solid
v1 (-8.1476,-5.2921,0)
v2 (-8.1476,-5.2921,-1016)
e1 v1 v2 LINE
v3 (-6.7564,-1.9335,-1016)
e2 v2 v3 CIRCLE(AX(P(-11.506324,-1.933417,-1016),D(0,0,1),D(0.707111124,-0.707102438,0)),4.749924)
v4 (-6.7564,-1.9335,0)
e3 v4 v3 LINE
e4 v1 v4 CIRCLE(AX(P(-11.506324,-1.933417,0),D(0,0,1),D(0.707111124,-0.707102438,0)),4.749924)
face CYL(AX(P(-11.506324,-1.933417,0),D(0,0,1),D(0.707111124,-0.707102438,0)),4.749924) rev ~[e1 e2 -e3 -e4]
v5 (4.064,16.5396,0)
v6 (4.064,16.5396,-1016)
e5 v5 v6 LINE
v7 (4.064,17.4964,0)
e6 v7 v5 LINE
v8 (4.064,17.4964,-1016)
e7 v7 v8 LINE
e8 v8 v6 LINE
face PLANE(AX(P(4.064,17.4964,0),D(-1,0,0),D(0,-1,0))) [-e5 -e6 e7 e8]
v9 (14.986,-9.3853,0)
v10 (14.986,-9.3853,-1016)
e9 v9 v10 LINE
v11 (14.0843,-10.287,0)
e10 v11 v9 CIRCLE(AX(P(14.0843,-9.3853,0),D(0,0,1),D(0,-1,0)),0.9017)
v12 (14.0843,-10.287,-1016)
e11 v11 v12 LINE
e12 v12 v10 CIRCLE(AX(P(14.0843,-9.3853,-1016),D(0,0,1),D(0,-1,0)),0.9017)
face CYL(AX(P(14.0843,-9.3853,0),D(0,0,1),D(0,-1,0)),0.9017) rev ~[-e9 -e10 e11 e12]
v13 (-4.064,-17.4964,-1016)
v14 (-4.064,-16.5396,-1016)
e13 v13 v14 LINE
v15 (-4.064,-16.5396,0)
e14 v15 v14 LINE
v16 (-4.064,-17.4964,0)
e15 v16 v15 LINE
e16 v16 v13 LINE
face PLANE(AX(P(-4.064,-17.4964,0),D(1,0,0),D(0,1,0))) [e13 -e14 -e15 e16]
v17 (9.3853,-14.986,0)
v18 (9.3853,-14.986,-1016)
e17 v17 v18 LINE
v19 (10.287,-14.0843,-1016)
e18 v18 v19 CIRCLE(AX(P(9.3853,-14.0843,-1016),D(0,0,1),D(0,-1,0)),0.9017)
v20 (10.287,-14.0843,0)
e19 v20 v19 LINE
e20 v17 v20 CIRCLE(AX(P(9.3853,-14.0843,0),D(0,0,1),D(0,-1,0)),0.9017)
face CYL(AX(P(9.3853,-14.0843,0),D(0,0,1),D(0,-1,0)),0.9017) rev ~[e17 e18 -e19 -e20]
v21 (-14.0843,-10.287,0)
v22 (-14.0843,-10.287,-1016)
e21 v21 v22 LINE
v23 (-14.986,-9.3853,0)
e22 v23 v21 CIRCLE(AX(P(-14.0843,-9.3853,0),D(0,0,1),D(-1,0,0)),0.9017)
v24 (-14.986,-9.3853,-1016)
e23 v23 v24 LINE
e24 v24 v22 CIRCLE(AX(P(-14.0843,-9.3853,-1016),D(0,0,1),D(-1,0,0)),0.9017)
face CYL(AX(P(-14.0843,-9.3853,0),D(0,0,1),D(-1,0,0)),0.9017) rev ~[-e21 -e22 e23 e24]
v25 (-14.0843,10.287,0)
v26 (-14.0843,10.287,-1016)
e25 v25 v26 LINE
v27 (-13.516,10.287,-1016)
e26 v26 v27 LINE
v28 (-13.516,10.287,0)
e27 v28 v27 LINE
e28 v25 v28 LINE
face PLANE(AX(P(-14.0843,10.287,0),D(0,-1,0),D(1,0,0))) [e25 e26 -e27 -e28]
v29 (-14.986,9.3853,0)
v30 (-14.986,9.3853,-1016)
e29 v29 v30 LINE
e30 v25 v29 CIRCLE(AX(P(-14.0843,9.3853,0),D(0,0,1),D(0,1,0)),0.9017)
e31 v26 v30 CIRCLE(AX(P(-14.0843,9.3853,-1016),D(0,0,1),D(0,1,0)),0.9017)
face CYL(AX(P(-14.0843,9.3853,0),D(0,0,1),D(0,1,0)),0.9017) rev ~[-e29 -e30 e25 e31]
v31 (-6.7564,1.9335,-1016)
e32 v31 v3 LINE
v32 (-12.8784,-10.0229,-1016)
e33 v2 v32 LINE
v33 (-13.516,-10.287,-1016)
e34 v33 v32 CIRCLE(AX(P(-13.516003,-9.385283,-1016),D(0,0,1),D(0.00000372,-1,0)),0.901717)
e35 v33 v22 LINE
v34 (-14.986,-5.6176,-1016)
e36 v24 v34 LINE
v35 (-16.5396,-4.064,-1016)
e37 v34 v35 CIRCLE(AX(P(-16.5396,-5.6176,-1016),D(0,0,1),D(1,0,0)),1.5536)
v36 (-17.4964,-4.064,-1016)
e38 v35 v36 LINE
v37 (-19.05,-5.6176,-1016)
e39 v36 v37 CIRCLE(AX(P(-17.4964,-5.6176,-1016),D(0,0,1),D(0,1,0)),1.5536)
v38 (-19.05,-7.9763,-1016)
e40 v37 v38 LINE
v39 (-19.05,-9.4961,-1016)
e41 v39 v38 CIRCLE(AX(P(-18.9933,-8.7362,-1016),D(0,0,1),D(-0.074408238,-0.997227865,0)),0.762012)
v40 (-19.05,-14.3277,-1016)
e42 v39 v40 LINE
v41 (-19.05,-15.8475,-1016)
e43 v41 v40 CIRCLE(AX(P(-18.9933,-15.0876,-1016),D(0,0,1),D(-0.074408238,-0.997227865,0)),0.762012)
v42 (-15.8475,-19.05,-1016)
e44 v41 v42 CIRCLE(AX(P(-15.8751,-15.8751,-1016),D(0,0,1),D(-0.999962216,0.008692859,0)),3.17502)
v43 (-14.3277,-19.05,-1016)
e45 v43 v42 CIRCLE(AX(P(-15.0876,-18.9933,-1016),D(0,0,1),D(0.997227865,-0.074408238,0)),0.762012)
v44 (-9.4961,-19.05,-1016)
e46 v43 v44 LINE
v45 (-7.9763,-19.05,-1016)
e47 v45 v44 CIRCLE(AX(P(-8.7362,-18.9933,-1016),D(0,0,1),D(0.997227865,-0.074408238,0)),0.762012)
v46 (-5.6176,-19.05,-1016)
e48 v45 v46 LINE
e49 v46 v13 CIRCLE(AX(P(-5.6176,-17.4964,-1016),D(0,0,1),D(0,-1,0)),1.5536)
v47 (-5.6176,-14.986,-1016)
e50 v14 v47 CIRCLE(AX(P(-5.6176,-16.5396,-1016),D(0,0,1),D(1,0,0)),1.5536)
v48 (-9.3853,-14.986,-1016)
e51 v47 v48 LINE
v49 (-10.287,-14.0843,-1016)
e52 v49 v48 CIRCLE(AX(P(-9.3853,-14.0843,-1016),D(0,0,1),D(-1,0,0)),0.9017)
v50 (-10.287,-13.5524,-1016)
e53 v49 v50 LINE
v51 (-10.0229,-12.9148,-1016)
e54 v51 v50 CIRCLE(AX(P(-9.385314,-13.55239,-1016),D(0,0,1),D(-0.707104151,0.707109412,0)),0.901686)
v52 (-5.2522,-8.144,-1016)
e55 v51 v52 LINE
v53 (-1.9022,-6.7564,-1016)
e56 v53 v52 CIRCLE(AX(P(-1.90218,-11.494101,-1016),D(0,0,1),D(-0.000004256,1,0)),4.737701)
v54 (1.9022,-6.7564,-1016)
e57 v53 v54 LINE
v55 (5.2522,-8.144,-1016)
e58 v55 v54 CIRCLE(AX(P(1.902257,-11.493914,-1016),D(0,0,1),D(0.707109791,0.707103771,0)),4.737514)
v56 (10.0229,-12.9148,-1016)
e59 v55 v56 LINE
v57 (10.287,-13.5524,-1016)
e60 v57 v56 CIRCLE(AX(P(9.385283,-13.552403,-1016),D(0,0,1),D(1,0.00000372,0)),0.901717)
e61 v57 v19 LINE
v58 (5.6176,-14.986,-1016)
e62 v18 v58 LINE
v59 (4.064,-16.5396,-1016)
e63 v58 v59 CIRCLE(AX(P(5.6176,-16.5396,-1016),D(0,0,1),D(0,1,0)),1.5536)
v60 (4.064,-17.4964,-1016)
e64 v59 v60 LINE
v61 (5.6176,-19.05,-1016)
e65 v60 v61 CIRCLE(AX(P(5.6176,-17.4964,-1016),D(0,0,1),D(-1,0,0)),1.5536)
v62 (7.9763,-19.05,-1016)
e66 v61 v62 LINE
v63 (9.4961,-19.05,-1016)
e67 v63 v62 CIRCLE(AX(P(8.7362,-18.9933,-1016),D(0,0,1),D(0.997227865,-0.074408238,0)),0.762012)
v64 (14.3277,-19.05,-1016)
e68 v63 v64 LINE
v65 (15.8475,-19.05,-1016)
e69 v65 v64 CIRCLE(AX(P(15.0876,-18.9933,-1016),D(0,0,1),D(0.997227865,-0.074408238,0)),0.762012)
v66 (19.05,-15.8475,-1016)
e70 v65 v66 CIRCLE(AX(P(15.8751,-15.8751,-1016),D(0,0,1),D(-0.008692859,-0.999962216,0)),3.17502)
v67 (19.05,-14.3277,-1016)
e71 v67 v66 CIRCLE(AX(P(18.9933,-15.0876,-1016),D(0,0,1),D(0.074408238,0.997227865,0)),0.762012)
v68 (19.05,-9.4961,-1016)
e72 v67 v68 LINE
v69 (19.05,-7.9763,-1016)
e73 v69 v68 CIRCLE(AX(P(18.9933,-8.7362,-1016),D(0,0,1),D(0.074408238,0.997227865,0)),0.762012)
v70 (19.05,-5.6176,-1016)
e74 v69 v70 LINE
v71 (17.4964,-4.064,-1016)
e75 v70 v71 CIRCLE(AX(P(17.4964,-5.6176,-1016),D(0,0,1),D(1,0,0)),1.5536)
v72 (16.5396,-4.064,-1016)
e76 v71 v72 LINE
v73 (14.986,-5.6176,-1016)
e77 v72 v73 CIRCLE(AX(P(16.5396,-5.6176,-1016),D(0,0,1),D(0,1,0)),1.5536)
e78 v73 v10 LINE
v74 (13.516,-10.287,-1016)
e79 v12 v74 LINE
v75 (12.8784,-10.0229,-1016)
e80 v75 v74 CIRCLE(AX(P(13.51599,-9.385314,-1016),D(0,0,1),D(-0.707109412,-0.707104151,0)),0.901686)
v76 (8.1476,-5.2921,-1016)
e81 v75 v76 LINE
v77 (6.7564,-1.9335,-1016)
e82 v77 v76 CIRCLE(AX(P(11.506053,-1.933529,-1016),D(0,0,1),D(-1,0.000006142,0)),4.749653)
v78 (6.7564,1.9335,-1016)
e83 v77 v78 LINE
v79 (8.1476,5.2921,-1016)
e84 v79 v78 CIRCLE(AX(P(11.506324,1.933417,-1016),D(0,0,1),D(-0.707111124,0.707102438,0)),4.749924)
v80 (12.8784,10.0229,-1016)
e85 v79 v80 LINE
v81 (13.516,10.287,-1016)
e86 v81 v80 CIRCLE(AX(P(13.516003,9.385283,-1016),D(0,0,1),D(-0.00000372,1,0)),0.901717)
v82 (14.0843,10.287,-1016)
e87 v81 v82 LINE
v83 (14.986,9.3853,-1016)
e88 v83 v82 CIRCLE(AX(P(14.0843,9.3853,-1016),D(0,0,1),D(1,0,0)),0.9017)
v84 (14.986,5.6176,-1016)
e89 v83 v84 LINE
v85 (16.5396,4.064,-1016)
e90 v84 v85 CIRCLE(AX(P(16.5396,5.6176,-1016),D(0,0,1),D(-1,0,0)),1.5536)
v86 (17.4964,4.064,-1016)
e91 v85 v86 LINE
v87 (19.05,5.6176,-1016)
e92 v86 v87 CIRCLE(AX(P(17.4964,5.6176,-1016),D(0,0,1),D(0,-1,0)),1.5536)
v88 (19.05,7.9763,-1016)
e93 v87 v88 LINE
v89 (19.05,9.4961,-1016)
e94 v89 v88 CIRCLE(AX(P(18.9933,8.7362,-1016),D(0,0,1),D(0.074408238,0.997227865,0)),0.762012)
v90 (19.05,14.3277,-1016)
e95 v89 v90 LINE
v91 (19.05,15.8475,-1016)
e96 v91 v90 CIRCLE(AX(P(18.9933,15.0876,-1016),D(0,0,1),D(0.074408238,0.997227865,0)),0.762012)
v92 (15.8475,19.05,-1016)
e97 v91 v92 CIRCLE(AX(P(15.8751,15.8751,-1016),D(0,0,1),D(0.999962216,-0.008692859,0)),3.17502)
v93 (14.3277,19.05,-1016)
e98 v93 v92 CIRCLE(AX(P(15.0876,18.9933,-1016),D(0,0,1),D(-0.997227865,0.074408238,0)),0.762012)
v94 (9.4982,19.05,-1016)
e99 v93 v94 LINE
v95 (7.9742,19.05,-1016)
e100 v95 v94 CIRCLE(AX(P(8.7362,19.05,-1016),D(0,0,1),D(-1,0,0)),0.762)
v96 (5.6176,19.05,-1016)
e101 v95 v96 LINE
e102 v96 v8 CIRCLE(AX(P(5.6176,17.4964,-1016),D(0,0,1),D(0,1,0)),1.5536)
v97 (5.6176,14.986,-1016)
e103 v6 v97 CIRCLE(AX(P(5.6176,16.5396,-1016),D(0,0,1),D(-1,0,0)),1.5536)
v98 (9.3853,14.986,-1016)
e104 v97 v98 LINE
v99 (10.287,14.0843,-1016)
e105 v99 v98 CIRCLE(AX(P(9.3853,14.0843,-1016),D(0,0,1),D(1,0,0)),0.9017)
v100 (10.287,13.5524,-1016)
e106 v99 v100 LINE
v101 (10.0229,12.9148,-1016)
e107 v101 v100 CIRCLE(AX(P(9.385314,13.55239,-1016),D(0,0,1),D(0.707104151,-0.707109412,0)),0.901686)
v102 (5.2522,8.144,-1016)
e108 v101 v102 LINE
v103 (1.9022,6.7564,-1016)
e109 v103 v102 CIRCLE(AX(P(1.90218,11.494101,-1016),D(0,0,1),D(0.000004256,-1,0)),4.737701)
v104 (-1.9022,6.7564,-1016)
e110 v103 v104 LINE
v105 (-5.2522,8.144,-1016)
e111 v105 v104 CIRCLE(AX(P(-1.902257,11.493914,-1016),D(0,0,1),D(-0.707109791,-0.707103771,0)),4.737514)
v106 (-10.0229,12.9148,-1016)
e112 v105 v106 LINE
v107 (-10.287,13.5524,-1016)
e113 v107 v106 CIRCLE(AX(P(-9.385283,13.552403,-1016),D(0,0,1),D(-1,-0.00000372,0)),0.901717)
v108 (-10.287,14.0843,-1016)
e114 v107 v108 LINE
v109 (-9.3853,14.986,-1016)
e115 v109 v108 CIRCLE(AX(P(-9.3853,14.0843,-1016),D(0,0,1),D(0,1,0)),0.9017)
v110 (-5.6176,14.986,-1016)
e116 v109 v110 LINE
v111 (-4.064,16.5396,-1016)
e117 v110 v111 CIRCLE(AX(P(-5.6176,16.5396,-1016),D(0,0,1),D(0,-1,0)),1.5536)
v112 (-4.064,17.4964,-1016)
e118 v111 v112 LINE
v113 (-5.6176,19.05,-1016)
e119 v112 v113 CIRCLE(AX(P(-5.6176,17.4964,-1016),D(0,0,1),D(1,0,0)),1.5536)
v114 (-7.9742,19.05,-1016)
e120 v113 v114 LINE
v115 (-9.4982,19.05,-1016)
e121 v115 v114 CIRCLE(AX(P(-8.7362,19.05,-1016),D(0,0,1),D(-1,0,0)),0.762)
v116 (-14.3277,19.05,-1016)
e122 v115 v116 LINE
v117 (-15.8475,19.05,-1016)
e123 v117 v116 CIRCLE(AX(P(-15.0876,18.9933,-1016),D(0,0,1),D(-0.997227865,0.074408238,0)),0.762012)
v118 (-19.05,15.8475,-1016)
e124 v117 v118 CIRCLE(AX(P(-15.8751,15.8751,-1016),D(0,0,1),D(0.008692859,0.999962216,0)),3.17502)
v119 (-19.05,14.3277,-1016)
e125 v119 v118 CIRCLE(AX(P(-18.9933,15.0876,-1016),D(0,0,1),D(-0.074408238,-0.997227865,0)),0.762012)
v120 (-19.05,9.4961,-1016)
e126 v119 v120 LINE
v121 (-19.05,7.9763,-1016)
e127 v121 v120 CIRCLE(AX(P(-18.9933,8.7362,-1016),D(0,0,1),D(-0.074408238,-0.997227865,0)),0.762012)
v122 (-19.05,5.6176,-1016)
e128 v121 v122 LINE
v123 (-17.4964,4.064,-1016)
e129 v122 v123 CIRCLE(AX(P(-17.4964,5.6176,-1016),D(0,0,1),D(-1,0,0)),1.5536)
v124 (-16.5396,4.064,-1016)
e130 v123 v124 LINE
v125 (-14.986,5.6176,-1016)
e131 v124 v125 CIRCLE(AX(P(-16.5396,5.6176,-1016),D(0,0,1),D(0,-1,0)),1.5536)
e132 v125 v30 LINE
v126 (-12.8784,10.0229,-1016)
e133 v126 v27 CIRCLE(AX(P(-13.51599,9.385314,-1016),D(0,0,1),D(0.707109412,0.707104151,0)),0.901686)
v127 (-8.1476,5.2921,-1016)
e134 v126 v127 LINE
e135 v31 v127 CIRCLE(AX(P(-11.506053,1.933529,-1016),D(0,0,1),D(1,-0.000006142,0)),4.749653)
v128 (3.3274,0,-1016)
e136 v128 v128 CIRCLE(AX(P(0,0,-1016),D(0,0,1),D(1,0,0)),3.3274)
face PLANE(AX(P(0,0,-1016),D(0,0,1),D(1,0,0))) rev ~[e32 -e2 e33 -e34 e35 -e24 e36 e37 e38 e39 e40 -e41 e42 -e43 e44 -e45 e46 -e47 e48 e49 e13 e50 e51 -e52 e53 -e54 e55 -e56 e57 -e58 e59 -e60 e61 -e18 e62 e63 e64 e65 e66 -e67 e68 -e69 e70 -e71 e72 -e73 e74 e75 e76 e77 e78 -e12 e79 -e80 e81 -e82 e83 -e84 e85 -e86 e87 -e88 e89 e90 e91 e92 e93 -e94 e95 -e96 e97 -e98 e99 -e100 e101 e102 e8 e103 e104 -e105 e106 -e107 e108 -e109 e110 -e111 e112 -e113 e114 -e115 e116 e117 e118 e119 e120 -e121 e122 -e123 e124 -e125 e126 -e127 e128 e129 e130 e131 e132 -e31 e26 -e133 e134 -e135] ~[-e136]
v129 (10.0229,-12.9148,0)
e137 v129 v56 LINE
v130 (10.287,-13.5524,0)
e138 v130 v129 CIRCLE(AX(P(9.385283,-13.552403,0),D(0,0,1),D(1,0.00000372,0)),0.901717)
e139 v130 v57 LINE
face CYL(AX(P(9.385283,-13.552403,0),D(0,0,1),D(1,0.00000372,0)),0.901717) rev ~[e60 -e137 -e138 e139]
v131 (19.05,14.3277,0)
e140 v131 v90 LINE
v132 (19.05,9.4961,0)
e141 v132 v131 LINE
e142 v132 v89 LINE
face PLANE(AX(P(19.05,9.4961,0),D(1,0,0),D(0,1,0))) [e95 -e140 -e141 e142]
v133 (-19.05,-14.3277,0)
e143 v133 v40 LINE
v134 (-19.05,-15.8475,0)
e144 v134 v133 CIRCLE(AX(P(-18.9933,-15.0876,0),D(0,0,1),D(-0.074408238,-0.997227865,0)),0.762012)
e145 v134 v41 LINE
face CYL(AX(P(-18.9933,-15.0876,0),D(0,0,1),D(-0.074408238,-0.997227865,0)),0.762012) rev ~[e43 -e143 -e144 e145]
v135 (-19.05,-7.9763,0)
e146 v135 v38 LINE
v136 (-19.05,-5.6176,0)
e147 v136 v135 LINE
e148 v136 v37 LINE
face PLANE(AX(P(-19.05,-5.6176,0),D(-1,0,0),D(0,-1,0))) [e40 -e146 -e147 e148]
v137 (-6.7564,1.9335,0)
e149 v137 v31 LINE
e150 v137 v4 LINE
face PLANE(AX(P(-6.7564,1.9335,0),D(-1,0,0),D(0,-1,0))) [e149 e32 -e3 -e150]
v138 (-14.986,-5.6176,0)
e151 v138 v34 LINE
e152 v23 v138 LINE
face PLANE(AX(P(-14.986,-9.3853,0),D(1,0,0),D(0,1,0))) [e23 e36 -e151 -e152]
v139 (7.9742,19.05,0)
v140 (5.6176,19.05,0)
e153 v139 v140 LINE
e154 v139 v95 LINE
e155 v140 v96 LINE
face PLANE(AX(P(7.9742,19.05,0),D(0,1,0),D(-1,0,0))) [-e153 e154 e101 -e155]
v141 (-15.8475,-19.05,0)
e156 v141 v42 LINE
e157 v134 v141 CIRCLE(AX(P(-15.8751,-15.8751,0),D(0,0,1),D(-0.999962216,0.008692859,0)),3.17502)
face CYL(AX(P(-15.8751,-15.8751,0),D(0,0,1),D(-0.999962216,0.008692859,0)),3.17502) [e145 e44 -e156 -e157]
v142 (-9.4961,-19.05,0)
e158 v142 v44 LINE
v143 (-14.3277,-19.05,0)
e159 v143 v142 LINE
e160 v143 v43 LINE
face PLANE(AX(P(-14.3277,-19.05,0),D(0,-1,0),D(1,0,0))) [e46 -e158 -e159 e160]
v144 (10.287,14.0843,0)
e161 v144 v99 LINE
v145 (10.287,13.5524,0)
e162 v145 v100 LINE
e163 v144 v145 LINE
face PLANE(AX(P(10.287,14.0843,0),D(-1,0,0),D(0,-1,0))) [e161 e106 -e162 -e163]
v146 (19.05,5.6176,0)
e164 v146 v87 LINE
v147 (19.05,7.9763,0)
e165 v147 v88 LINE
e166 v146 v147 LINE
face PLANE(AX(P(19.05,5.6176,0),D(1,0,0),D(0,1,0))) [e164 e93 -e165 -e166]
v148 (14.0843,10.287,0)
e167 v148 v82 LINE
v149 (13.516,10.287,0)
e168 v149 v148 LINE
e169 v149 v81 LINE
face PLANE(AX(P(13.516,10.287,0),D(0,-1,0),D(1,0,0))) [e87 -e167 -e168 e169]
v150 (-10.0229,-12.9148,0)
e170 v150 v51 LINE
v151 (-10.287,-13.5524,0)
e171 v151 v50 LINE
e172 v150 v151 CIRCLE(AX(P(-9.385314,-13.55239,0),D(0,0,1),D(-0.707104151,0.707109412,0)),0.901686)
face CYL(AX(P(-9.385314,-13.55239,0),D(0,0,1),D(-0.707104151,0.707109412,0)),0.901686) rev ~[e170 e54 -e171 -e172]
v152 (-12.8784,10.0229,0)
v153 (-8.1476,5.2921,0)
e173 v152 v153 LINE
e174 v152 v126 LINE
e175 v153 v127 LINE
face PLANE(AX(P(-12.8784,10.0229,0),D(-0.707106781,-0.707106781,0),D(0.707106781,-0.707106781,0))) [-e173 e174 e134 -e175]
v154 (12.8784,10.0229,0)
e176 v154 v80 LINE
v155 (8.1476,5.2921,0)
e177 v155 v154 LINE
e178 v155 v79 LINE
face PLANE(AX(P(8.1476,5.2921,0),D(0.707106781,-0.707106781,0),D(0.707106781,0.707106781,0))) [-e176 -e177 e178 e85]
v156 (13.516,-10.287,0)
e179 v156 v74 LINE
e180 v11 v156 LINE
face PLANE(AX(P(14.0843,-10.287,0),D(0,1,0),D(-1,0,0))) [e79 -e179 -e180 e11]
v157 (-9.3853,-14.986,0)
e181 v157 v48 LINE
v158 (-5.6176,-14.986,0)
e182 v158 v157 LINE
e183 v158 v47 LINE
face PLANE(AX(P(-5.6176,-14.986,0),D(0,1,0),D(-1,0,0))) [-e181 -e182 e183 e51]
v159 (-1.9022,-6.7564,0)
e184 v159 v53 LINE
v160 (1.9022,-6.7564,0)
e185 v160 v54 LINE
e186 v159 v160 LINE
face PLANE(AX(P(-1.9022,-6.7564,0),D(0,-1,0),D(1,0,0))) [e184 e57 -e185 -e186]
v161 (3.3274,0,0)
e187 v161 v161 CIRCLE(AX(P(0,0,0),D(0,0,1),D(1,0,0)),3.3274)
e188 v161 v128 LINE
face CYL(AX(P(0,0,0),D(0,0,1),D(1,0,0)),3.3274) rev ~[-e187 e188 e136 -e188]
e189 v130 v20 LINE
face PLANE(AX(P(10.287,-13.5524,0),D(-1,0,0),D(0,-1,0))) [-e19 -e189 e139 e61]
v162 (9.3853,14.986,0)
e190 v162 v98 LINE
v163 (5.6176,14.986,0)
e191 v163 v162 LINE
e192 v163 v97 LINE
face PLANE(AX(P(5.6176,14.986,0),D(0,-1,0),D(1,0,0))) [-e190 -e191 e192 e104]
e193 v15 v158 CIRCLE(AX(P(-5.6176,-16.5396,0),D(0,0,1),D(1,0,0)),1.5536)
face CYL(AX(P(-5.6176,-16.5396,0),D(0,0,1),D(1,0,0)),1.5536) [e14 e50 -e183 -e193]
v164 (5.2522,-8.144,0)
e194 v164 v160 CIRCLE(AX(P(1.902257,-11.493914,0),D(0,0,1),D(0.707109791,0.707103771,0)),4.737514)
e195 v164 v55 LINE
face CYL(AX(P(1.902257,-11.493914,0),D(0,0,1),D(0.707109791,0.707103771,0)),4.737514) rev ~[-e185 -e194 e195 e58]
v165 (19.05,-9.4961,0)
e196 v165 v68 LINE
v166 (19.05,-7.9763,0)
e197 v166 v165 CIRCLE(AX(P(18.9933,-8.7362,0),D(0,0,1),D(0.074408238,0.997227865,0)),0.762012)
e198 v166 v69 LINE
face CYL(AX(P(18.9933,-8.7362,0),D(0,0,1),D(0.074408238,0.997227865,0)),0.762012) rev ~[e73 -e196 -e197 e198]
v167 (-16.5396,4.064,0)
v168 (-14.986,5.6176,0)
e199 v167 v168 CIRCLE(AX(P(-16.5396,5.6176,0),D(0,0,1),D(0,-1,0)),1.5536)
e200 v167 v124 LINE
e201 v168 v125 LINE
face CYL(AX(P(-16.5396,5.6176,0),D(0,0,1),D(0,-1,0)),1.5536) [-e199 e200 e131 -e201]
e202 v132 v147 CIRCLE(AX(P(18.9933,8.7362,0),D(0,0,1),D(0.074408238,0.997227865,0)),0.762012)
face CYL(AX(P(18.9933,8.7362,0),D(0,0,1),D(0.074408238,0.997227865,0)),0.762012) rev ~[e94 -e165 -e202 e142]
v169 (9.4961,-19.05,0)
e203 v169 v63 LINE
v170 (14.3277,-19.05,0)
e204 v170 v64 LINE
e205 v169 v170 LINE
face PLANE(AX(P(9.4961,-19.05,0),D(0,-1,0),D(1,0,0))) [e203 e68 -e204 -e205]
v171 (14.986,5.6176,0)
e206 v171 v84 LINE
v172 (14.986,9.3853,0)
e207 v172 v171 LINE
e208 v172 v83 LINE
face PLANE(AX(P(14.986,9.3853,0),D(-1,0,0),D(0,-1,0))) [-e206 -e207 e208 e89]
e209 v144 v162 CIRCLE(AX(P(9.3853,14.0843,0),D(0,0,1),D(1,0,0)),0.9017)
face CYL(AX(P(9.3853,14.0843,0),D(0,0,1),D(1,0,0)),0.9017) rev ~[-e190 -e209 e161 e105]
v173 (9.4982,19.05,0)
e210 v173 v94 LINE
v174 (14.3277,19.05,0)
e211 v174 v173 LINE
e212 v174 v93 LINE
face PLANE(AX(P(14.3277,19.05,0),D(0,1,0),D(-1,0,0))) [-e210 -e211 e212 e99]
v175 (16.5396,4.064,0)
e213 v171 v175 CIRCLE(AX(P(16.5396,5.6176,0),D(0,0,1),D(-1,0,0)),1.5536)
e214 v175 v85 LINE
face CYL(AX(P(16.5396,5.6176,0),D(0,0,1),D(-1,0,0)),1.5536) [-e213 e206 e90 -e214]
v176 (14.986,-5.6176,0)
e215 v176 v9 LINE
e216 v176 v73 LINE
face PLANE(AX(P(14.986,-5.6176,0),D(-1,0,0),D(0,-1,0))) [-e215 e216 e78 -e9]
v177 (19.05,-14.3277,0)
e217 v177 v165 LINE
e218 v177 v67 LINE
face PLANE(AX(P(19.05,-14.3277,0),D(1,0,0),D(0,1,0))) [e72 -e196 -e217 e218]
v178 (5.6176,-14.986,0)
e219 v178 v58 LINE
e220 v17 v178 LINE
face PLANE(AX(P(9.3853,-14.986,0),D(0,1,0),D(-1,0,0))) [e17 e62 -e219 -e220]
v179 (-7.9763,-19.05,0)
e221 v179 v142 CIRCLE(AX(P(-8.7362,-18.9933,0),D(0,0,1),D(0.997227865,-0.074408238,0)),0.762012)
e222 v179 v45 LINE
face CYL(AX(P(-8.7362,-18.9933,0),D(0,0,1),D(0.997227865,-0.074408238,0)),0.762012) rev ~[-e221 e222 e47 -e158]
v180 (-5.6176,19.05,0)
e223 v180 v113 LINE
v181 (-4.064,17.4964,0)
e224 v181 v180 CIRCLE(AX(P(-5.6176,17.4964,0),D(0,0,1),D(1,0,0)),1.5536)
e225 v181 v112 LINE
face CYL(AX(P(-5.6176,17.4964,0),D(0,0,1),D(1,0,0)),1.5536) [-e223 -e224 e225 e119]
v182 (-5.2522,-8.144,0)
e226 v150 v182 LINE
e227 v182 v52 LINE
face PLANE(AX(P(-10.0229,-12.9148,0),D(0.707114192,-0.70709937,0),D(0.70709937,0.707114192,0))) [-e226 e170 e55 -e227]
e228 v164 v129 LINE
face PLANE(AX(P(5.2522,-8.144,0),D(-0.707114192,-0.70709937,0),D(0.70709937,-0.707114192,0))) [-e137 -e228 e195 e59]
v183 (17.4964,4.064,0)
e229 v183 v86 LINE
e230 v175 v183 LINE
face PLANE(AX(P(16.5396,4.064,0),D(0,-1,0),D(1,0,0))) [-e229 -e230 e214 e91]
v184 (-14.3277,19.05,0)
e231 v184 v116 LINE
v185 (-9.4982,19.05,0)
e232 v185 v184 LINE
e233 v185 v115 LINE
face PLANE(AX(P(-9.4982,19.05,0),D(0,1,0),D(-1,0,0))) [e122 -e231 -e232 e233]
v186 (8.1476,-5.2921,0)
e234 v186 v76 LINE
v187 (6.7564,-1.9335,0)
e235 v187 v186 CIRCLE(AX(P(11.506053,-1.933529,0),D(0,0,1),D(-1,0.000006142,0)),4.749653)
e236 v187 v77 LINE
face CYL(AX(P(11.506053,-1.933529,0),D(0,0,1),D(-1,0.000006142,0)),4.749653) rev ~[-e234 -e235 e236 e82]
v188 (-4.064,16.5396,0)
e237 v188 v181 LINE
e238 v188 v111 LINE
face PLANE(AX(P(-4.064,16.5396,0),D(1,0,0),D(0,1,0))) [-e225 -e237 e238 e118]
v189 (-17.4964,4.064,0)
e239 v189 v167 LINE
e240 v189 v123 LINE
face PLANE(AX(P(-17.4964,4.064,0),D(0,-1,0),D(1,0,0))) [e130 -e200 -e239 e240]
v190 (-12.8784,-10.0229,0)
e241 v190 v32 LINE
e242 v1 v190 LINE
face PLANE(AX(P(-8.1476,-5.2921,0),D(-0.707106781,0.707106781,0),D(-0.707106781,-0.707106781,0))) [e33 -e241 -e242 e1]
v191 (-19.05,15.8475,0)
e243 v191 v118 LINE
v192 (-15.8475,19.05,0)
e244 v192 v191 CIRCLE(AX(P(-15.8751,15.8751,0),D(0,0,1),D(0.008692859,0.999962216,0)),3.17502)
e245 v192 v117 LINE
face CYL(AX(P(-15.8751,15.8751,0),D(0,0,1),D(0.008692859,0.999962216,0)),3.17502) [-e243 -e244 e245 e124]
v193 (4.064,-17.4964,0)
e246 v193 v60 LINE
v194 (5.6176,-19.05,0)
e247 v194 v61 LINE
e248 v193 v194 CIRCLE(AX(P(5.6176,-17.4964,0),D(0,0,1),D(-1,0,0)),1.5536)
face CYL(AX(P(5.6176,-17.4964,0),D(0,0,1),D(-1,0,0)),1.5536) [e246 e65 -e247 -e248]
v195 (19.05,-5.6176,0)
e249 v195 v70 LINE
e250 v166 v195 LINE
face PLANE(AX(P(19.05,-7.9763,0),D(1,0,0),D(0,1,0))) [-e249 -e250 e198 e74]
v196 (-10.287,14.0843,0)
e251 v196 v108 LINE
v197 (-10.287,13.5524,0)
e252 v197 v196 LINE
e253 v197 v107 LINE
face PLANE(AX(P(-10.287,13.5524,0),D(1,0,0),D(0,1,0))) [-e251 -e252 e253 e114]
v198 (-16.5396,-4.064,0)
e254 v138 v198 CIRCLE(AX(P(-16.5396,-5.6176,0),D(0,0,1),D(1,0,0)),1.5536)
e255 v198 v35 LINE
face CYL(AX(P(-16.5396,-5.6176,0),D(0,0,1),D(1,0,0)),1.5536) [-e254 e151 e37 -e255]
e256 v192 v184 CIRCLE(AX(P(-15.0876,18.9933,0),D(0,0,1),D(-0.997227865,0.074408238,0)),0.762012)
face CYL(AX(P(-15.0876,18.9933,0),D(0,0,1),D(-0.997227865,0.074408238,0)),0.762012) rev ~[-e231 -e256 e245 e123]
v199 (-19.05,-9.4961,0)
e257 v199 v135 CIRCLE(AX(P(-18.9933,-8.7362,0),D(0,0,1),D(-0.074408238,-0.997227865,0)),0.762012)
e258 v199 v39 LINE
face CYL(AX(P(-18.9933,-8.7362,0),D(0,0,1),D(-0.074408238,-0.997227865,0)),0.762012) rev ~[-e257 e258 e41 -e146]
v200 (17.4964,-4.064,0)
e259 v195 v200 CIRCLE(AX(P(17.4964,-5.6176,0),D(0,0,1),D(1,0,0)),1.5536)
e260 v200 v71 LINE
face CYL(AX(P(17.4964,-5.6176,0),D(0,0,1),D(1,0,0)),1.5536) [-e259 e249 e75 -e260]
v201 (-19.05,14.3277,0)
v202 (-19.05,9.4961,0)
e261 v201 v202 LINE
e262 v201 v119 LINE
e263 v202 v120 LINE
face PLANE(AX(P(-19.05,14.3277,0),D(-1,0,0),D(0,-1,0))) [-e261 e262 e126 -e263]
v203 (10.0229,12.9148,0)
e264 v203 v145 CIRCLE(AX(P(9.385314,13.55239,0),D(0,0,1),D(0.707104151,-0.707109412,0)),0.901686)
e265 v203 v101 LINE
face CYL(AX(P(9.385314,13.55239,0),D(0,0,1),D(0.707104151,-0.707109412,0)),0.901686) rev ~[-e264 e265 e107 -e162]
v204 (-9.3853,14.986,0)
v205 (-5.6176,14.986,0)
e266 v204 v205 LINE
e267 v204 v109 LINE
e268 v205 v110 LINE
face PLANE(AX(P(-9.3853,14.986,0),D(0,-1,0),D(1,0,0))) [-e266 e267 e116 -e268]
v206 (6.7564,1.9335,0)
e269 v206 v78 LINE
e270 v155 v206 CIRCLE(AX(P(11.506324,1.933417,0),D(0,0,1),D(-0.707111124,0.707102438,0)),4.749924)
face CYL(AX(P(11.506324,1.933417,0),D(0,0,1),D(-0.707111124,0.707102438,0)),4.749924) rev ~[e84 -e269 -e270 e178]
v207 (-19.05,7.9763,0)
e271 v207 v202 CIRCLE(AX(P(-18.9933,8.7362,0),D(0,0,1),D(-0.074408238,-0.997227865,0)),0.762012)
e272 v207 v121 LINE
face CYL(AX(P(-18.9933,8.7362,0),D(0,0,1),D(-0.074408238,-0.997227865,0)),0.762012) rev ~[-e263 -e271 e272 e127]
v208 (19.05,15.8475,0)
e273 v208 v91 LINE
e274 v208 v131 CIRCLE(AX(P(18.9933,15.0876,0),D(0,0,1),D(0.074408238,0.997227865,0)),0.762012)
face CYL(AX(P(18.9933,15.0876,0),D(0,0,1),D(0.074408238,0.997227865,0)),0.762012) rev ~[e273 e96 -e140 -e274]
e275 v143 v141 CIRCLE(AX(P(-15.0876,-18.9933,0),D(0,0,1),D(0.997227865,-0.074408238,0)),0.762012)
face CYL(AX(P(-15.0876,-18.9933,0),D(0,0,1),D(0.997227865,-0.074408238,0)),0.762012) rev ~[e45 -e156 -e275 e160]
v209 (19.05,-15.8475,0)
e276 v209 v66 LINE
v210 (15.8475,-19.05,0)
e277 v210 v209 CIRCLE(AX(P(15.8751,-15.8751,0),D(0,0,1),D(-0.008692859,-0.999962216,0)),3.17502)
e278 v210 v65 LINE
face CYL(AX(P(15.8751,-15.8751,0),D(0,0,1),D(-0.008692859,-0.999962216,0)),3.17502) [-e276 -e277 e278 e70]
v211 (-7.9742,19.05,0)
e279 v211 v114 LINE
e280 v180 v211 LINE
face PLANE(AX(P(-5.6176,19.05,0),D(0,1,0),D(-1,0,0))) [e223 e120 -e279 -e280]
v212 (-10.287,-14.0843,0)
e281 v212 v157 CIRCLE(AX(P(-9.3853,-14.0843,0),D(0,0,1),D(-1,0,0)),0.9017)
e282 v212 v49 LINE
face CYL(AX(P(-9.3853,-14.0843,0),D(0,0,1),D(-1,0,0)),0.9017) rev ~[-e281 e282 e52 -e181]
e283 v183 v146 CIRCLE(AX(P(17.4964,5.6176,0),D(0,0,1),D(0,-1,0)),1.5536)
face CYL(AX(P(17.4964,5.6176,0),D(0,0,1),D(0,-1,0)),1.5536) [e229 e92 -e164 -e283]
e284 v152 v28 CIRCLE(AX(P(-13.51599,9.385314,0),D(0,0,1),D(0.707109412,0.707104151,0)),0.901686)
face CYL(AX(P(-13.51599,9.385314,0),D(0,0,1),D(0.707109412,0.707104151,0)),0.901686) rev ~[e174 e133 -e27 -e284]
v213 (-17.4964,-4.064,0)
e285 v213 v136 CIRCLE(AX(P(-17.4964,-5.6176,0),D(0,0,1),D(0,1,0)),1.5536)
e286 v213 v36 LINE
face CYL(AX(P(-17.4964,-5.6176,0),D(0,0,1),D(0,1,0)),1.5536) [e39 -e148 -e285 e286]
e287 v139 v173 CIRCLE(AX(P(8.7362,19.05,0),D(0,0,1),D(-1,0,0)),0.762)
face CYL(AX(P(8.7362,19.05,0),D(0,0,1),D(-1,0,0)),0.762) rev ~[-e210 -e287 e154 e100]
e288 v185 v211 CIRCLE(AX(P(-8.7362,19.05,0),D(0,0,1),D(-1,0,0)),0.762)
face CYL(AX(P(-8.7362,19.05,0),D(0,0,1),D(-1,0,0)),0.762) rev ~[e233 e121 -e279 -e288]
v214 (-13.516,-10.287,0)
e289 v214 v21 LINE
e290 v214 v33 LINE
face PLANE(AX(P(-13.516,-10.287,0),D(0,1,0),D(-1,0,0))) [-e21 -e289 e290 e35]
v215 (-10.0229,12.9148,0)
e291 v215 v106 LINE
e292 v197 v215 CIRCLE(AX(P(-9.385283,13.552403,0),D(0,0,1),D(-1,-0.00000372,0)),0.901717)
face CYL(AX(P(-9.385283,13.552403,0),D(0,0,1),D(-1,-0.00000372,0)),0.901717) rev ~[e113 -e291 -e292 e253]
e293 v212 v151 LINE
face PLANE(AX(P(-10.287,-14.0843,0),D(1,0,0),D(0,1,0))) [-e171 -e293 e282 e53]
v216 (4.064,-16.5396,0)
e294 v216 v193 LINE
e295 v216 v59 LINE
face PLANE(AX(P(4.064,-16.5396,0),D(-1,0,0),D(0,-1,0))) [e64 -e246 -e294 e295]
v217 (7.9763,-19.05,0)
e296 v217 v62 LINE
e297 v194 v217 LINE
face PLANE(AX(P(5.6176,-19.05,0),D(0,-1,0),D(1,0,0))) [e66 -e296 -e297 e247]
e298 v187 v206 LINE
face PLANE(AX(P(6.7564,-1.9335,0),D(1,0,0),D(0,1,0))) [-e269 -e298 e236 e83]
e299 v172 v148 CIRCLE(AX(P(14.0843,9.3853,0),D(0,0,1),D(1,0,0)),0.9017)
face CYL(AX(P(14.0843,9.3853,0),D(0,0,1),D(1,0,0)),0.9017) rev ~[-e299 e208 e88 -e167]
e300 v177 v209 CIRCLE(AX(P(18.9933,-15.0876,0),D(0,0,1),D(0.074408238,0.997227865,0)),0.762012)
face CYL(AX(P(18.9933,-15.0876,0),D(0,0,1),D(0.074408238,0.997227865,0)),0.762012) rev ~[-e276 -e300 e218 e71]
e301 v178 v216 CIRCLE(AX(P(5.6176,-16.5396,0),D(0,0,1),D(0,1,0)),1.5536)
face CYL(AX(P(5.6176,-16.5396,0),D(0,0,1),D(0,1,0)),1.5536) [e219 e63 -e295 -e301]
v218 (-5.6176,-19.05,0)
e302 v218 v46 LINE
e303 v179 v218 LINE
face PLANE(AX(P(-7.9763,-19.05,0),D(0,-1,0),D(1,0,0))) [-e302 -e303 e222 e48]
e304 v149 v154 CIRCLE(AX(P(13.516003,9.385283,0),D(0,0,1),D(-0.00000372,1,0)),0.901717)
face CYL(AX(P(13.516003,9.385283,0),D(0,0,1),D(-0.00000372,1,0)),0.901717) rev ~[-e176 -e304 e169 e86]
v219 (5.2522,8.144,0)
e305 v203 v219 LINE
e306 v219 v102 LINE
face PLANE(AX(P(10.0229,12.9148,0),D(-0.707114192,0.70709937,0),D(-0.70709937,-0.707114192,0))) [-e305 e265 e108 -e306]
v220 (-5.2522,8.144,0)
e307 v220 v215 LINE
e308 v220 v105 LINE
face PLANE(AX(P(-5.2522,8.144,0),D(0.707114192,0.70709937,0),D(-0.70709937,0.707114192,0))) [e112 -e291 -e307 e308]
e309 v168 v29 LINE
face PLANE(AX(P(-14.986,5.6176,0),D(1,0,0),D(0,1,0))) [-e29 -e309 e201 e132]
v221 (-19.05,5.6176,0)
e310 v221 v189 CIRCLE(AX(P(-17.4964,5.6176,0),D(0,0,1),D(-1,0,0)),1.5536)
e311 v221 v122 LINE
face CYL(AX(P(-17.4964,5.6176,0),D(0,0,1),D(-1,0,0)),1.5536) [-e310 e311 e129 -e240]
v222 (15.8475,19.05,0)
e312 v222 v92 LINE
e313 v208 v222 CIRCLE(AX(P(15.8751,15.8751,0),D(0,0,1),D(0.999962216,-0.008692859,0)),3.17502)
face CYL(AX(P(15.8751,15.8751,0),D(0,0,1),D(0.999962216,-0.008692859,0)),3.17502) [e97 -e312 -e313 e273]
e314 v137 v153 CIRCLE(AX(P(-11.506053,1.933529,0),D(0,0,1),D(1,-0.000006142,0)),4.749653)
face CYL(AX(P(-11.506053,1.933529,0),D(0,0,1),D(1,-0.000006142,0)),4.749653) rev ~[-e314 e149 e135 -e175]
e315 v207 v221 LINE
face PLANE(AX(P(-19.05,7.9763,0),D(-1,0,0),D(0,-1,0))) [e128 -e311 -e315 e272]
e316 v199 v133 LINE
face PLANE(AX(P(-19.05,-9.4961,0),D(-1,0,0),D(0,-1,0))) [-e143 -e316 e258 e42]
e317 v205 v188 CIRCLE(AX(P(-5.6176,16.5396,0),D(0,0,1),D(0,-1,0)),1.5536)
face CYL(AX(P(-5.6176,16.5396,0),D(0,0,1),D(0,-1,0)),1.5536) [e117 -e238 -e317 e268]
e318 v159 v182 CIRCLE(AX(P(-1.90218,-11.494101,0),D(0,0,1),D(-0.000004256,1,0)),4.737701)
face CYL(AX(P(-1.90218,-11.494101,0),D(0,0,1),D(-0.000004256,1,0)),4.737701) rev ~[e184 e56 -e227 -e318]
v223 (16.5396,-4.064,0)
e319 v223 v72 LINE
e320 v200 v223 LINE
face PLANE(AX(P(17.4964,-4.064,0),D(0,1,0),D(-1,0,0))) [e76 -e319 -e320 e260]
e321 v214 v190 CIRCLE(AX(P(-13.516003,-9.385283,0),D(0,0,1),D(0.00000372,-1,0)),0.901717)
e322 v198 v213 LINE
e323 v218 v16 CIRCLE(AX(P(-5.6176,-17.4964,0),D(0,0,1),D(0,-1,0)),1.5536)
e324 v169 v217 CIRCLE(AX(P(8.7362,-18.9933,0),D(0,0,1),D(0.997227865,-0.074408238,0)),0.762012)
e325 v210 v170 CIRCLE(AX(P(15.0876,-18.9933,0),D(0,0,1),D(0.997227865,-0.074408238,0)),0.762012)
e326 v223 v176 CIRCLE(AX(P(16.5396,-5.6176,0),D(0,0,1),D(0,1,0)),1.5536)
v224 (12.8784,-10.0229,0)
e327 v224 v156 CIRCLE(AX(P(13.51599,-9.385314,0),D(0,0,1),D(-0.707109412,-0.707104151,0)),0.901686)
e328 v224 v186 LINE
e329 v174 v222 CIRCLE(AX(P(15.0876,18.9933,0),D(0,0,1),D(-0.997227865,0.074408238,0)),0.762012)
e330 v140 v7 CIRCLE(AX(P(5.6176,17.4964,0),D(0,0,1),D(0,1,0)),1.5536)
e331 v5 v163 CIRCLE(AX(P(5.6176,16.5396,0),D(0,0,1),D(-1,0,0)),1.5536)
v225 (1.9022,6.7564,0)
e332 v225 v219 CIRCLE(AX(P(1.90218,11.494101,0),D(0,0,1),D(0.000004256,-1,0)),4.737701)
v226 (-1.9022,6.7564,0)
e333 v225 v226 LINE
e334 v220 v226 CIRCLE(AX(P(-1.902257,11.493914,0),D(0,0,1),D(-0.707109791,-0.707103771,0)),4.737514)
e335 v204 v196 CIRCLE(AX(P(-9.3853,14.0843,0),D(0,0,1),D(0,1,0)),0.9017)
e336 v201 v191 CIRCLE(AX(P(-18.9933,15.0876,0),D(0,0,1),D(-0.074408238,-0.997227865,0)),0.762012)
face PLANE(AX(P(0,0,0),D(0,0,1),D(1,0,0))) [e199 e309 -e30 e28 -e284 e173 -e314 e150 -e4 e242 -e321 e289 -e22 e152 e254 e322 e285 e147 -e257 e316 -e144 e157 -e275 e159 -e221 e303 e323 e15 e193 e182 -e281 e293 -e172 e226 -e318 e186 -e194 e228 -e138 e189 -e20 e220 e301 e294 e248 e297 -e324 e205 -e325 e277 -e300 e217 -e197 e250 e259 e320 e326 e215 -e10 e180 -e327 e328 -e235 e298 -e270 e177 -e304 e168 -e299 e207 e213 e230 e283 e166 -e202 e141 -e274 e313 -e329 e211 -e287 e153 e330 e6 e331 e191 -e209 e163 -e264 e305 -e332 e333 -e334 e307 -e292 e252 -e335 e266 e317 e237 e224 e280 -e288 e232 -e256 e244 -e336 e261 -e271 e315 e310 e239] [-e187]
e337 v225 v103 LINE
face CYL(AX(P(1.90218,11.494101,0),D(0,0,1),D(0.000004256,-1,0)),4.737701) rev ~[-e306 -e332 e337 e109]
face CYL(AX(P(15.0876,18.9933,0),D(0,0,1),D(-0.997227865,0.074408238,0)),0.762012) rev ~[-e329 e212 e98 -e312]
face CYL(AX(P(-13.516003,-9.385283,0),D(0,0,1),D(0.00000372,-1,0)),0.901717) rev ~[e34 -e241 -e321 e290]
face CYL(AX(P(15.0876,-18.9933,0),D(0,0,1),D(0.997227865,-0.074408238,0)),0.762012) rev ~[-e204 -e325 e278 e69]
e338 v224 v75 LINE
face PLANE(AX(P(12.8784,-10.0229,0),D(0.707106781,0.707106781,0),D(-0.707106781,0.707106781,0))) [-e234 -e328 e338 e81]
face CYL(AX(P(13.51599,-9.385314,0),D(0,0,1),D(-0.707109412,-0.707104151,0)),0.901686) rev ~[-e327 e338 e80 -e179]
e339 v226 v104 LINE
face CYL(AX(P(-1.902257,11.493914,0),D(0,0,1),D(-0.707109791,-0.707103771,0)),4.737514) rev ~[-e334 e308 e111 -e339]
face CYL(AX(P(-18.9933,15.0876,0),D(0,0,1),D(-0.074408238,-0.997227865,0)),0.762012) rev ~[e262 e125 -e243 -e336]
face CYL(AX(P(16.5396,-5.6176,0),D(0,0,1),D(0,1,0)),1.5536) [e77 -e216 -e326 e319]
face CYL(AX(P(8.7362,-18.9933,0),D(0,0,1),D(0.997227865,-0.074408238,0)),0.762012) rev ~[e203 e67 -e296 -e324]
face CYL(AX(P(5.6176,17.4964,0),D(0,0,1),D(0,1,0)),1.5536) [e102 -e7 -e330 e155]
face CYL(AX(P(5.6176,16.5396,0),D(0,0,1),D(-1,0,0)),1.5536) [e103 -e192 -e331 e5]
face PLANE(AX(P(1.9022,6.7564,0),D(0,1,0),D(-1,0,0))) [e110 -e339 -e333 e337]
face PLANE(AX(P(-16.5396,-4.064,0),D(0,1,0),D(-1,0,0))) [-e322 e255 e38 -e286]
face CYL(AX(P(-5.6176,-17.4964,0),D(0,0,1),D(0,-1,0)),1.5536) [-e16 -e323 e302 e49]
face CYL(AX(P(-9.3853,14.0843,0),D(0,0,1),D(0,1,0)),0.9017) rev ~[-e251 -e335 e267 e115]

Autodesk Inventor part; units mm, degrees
sketch "Sketch_1" plane through (0, 0, 0) normal (0, 0, 1) x (1, 0, 0)
  arc A0 (-15.8475, 19.05) -> (-19.05, 15.8475) centre (-15.8751, 15.8751) ccw
  arc A1 (-19.05, 14.3277) -> (-19.05, 15.8475) centre (-18.9933, 15.0876) ccw
  line L0 (-19.05, 14.3277) -> (-19.05, 9.4961)
  arc A2 (-19.05, 7.9763) -> (-19.05, 9.4961) centre (-18.9933, 8.7362) ccw
  line L1 (-19.05, 7.9763) -> (-19.05, 5.6176)
  arc A3 (-19.05, 5.6176) -> (-17.4964, 4.064) centre (-17.4964, 5.6176) ccw
  line L2 (-17.4964, 4.064) -> (-16.5396, 4.064)
  arc A4 (-16.5396, 4.064) -> (-14.986, 5.6176) centre (-16.5396, 5.6176) ccw
  line L3 (-14.986, 5.6176) -> (-14.986, 9.3853)
  arc A5 (-14.0843, 10.287) -> (-14.986, 9.3853) centre (-14.0843, 9.3853) ccw
  line L4 (-14.0843, 10.287) -> (-13.516, 10.287)
  arc A6 (-12.8784, 10.0229) -> (-13.516, 10.287) centre (-13.516, 9.3853) ccw
  line L5 (-12.8784, 10.0229) -> (-8.1476, 5.2921)
  arc A7 (-6.7564, 1.9335) -> (-8.1476, 5.2921) centre (-11.5062, 1.9335) ccw
  line L6 (-6.7564, 1.9335) -> (-6.7564, -1.9335)
  arc A8 (-8.1476, -5.2921) -> (-6.7564, -1.9335) centre (-11.5062, -1.9335) ccw
  line L7 (-8.1476, -5.2921) -> (-12.8784, -10.0229)
  arc A9 (-13.516, -10.287) -> (-12.8784, -10.0229) centre (-13.516, -9.3853) ccw
  line L8 (-13.516, -10.287) -> (-14.0843, -10.287)
  arc A10 (-14.986, -9.3853) -> (-14.0843, -10.287) centre (-14.0843, -9.3853) ccw
  line L9 (-14.986, -9.3853) -> (-14.986, -5.6176)
  arc A11 (-14.986, -5.6176) -> (-16.5396, -4.064) centre (-16.5396, -5.6176) ccw
  line L10 (-16.5396, -4.064) -> (-17.4964, -4.064)
  arc A12 (-17.4964, -4.064) -> (-19.05, -5.6176) centre (-17.4964, -5.6176) ccw
  line L11 (-19.05, -5.6176) -> (-19.05, -7.9763)
  arc A13 (-19.05, -9.4961) -> (-19.05, -7.9763) centre (-18.9933, -8.7362) ccw
  line L12 (-19.05, -9.4961) -> (-19.05, -14.3277)
  arc A14 (-19.05, -15.8475) -> (-19.05, -14.3277) centre (-18.9933, -15.0876) ccw
  arc A15 (-19.05, -15.8475) -> (-15.8475, -19.05) centre (-15.8751, -15.8751) ccw
  arc A16 (-14.3277, -19.05) -> (-15.8475, -19.05) centre (-15.0876, -18.9933) ccw
  line L13 (-14.3277, -19.05) -> (-9.4961, -19.05)
  arc A17 (-7.9763, -19.05) -> (-9.4961, -19.05) centre (-8.7362, -18.9933) ccw
  line L14 (-7.9763, -19.05) -> (-5.6176, -19.05)
  arc A18 (-5.6176, -19.05) -> (-4.064, -17.4964) centre (-5.6176, -17.4964) ccw
  line L15 (-4.064, -17.4964) -> (-4.064, -16.5396)
  arc A19 (-4.064, -16.5396) -> (-5.6176, -14.986) centre (-5.6176, -16.5396) ccw
  line L16 (-5.6176, -14.986) -> (-9.3853, -14.986)
  arc A20 (-10.287, -14.0843) -> (-9.3853, -14.986) centre (-9.3853, -14.0843) ccw
  line L17 (-10.287, -14.0843) -> (-10.287, -13.5524)
  arc A21 (-10.0229, -12.9148) -> (-10.287, -13.5524) centre (-9.3853, -13.5524) ccw
  line L18 (-10.0229, -12.9148) -> (-5.2522, -8.144)
  arc A22 (-1.9022, -6.7564) -> (-5.2522, -8.144) centre (-1.9022, -11.494) ccw
  line L19 (-1.9022, -6.7564) -> (1.9022, -6.7564)
  arc A23 (5.2522, -8.144) -> (1.9022, -6.7564) centre (1.9022, -11.494) ccw
  line L20 (5.2522, -8.144) -> (10.0229, -12.9148)
  arc A24 (10.287, -13.5524) -> (10.0229, -12.9148) centre (9.3853, -13.5524) ccw
  line L21 (10.287, -13.5524) -> (10.287, -14.0843)
  arc A25 (9.3853, -14.986) -> (10.287, -14.0843) centre (9.3853, -14.0843) ccw
  line L22 (9.3853, -14.986) -> (5.6176, -14.986)
  arc A26 (5.6176, -14.986) -> (4.064, -16.5396) centre (5.6176, -16.5396) ccw
  line L23 (4.064, -16.5396) -> (4.064, -17.4964)
  arc A27 (4.064, -17.4964) -> (5.6176, -19.05) centre (5.6176, -17.4964) ccw
  line L24 (5.6176, -19.05) -> (7.9763, -19.05)
  arc A28 (9.4961, -19.05) -> (7.9763, -19.05) centre (8.7362, -18.9933) ccw
  line L25 (9.4961, -19.05) -> (14.3277, -19.05)
  arc A29 (15.8475, -19.05) -> (14.3277, -19.05) centre (15.0876, -18.9933) ccw
  arc A30 (15.8475, -19.05) -> (19.05, -15.8475) centre (15.8751, -15.8751) ccw
  arc A31 (19.05, -14.3277) -> (19.05, -15.8475) centre (18.9933, -15.0876) ccw
  line L26 (19.05, -14.3277) -> (19.05, -9.4961)
  arc A32 (19.05, -7.9763) -> (19.05, -9.4961) centre (18.9933, -8.7362) ccw
  line L27 (19.05, -7.9763) -> (19.05, -5.6176)
  arc A33 (19.05, -5.6176) -> (17.4964, -4.064) centre (17.4964, -5.6176) ccw
  line L28 (17.4964, -4.064) -> (16.5396, -4.064)
  arc A34 (16.5396, -4.064) -> (14.986, -5.6176) centre (16.5396, -5.6176) ccw
  line L29 (14.986, -5.6176) -> (14.986, -9.3853)
  arc A35 (14.0843, -10.287) -> (14.986, -9.3853) centre (14.0843, -9.3853) ccw
  line L30 (14.0843, -10.287) -> (13.516, -10.287)
  arc A36 (12.8784, -10.0229) -> (13.516, -10.287) centre (13.516, -9.3853) ccw
  line L31 (12.8784, -10.0229) -> (8.1476, -5.2921)
  arc A37 (6.7564, -1.9335) -> (8.1476, -5.2921) centre (11.5062, -1.9335) ccw
  line L32 (6.7564, -1.9335) -> (6.7564, 1.9335)
  arc A38 (8.1476, 5.2921) -> (6.7564, 1.9335) centre (11.5062, 1.9335) ccw
  line L33 (8.1476, 5.2921) -> (12.8784, 10.0229)
  arc A39 (13.516, 10.287) -> (12.8784, 10.0229) centre (13.516, 9.3853) ccw
  line L34 (13.516, 10.287) -> (14.0843, 10.287)
  arc A40 (14.986, 9.3853) -> (14.0843, 10.287) centre (14.0843, 9.3853) ccw
  line L35 (14.986, 9.3853) -> (14.986, 5.6176)
  arc A41 (14.986, 5.6176) -> (16.5396, 4.064) centre (16.5396, 5.6176) ccw
  line L36 (16.5396, 4.064) -> (17.4964, 4.064)
  arc A42 (17.4964, 4.064) -> (19.05, 5.6176) centre (17.4964, 5.6176) ccw
  line L37 (19.05, 5.6176) -> (19.05, 7.9763)
  arc A43 (19.05, 9.4961) -> (19.05, 7.9763) centre (18.9933, 8.7362) ccw
  line L38 (19.05, 9.4961) -> (19.05, 14.3277)
  arc A44 (19.05, 15.8475) -> (19.05, 14.3277) centre (18.9933, 15.0876) ccw
  arc A45 (19.05, 15.8475) -> (15.8475, 19.05) centre (15.8751, 15.8751) ccw
  arc A46 (14.3277, 19.05) -> (15.8475, 19.05) centre (15.0876, 18.9933) ccw
  line L39 (14.3277, 19.05) -> (9.4982, 19.05)
  arc A47 (7.9742, 19.05) -> (9.4982, 19.05) centre (8.7362, 19.05) ccw
  line L40 (7.9742, 19.05) -> (5.6176, 19.05)
  arc A48 (5.6176, 19.05) -> (4.064, 17.4964) centre (5.6176, 17.4964) ccw
  line L41 (4.064, 17.4964) -> (4.064, 16.5396)
  arc A49 (4.064, 16.5396) -> (5.6176, 14.986) centre (5.6176, 16.5396) ccw
  line L42 (5.6176, 14.986) -> (9.3853, 14.986)
  arc A50 (10.287, 14.0843) -> (9.3853, 14.986) centre (9.3853, 14.0843) ccw
  line L43 (10.287, 14.0843) -> (10.287, 13.5524)
  arc A51 (10.0229, 12.9148) -> (10.287, 13.5524) centre (9.3853, 13.5524) ccw
  line L44 (10.0229, 12.9148) -> (5.2522, 8.144)
  arc A52 (1.9022, 6.7564) -> (5.2522, 8.144) centre (1.9022, 11.494) ccw
  line L45 (1.9022, 6.7564) -> (-1.9022, 6.7564)
  arc A53 (-5.2522, 8.144) -> (-1.9022, 6.7564) centre (-1.9022, 11.494) ccw
  line L46 (-5.2522, 8.144) -> (-10.0229, 12.9148)
  arc A54 (-10.287, 13.5524) -> (-10.0229, 12.9148) centre (-9.3853, 13.5524) ccw
  line L47 (-10.287, 13.5524) -> (-10.287, 14.0843)
  arc A55 (-9.3853, 14.986) -> (-10.287, 14.0843) centre (-9.3853, 14.0843) ccw
  line L48 (-9.3853, 14.986) -> (-5.6176, 14.986)
  arc A56 (-5.6176, 14.986) -> (-4.064, 16.5396) centre (-5.6176, 16.5396) ccw
  line L49 (-4.064, 16.5396) -> (-4.064, 17.4964)
  arc A57 (-4.064, 17.4964) -> (-5.6176, 19.05) centre (-5.6176, 17.4964) ccw
  line L50 (-5.6176, 19.05) -> (-7.9742, 19.05)
  arc A58 (-9.4982, 19.05) -> (-7.9742, 19.05) centre (-8.7362, 19.05) ccw
  line L51 (-9.4982, 19.05) -> (-14.3277, 19.05)
  arc A59 (-15.8475, 19.05) -> (-14.3277, 19.05) centre (-15.0876, 18.9933) ccw
  circle A60 centre (0, 0) radius 3.3274
extrude "Extrusion1" add sketch "Sketch_1" against normal blind 1016
ref_plane "b1_XY" through (-19.05, 0, -25.4) normal (1, 0, 0) x (0, 0, -1)
ref_plane "b1_YZ" through (-19.05, 0, -25.4) normal (0, 0, -1) x (0, 1, 0)
ref_plane "b1_ZX" through (-19.05, 0, -25.4) normal (0, 1, 0) x (1, 0, 0)
ref_plane "b2_XY" through (19.05, 0, -25.4) normal (1, 0, 0) x (0, 0, -1)
ref_plane "b2_YZ" through (19.05, 0, -25.4) normal (0, 0, -1) x (0, 1, 0)
ref_plane "b2_ZX" through (19.05, 0, -25.4) normal (0, 1, 0) x (1, 0, 0)
ref_plane "profile1515_XY" through (0, 0, -25.4) normal (0, 0, 1) x (1, 0, 0)
ref_plane "profile1515_YZ" through (0, 0, -25.4) normal (1, 0, 0) x (0, 1, 0)
ref_plane "profile1515_ZX" through (0, 0, -25.4) normal (0, 1, 0) x (0, 0, 1)
properties part number "Frame Long _ ALT"
